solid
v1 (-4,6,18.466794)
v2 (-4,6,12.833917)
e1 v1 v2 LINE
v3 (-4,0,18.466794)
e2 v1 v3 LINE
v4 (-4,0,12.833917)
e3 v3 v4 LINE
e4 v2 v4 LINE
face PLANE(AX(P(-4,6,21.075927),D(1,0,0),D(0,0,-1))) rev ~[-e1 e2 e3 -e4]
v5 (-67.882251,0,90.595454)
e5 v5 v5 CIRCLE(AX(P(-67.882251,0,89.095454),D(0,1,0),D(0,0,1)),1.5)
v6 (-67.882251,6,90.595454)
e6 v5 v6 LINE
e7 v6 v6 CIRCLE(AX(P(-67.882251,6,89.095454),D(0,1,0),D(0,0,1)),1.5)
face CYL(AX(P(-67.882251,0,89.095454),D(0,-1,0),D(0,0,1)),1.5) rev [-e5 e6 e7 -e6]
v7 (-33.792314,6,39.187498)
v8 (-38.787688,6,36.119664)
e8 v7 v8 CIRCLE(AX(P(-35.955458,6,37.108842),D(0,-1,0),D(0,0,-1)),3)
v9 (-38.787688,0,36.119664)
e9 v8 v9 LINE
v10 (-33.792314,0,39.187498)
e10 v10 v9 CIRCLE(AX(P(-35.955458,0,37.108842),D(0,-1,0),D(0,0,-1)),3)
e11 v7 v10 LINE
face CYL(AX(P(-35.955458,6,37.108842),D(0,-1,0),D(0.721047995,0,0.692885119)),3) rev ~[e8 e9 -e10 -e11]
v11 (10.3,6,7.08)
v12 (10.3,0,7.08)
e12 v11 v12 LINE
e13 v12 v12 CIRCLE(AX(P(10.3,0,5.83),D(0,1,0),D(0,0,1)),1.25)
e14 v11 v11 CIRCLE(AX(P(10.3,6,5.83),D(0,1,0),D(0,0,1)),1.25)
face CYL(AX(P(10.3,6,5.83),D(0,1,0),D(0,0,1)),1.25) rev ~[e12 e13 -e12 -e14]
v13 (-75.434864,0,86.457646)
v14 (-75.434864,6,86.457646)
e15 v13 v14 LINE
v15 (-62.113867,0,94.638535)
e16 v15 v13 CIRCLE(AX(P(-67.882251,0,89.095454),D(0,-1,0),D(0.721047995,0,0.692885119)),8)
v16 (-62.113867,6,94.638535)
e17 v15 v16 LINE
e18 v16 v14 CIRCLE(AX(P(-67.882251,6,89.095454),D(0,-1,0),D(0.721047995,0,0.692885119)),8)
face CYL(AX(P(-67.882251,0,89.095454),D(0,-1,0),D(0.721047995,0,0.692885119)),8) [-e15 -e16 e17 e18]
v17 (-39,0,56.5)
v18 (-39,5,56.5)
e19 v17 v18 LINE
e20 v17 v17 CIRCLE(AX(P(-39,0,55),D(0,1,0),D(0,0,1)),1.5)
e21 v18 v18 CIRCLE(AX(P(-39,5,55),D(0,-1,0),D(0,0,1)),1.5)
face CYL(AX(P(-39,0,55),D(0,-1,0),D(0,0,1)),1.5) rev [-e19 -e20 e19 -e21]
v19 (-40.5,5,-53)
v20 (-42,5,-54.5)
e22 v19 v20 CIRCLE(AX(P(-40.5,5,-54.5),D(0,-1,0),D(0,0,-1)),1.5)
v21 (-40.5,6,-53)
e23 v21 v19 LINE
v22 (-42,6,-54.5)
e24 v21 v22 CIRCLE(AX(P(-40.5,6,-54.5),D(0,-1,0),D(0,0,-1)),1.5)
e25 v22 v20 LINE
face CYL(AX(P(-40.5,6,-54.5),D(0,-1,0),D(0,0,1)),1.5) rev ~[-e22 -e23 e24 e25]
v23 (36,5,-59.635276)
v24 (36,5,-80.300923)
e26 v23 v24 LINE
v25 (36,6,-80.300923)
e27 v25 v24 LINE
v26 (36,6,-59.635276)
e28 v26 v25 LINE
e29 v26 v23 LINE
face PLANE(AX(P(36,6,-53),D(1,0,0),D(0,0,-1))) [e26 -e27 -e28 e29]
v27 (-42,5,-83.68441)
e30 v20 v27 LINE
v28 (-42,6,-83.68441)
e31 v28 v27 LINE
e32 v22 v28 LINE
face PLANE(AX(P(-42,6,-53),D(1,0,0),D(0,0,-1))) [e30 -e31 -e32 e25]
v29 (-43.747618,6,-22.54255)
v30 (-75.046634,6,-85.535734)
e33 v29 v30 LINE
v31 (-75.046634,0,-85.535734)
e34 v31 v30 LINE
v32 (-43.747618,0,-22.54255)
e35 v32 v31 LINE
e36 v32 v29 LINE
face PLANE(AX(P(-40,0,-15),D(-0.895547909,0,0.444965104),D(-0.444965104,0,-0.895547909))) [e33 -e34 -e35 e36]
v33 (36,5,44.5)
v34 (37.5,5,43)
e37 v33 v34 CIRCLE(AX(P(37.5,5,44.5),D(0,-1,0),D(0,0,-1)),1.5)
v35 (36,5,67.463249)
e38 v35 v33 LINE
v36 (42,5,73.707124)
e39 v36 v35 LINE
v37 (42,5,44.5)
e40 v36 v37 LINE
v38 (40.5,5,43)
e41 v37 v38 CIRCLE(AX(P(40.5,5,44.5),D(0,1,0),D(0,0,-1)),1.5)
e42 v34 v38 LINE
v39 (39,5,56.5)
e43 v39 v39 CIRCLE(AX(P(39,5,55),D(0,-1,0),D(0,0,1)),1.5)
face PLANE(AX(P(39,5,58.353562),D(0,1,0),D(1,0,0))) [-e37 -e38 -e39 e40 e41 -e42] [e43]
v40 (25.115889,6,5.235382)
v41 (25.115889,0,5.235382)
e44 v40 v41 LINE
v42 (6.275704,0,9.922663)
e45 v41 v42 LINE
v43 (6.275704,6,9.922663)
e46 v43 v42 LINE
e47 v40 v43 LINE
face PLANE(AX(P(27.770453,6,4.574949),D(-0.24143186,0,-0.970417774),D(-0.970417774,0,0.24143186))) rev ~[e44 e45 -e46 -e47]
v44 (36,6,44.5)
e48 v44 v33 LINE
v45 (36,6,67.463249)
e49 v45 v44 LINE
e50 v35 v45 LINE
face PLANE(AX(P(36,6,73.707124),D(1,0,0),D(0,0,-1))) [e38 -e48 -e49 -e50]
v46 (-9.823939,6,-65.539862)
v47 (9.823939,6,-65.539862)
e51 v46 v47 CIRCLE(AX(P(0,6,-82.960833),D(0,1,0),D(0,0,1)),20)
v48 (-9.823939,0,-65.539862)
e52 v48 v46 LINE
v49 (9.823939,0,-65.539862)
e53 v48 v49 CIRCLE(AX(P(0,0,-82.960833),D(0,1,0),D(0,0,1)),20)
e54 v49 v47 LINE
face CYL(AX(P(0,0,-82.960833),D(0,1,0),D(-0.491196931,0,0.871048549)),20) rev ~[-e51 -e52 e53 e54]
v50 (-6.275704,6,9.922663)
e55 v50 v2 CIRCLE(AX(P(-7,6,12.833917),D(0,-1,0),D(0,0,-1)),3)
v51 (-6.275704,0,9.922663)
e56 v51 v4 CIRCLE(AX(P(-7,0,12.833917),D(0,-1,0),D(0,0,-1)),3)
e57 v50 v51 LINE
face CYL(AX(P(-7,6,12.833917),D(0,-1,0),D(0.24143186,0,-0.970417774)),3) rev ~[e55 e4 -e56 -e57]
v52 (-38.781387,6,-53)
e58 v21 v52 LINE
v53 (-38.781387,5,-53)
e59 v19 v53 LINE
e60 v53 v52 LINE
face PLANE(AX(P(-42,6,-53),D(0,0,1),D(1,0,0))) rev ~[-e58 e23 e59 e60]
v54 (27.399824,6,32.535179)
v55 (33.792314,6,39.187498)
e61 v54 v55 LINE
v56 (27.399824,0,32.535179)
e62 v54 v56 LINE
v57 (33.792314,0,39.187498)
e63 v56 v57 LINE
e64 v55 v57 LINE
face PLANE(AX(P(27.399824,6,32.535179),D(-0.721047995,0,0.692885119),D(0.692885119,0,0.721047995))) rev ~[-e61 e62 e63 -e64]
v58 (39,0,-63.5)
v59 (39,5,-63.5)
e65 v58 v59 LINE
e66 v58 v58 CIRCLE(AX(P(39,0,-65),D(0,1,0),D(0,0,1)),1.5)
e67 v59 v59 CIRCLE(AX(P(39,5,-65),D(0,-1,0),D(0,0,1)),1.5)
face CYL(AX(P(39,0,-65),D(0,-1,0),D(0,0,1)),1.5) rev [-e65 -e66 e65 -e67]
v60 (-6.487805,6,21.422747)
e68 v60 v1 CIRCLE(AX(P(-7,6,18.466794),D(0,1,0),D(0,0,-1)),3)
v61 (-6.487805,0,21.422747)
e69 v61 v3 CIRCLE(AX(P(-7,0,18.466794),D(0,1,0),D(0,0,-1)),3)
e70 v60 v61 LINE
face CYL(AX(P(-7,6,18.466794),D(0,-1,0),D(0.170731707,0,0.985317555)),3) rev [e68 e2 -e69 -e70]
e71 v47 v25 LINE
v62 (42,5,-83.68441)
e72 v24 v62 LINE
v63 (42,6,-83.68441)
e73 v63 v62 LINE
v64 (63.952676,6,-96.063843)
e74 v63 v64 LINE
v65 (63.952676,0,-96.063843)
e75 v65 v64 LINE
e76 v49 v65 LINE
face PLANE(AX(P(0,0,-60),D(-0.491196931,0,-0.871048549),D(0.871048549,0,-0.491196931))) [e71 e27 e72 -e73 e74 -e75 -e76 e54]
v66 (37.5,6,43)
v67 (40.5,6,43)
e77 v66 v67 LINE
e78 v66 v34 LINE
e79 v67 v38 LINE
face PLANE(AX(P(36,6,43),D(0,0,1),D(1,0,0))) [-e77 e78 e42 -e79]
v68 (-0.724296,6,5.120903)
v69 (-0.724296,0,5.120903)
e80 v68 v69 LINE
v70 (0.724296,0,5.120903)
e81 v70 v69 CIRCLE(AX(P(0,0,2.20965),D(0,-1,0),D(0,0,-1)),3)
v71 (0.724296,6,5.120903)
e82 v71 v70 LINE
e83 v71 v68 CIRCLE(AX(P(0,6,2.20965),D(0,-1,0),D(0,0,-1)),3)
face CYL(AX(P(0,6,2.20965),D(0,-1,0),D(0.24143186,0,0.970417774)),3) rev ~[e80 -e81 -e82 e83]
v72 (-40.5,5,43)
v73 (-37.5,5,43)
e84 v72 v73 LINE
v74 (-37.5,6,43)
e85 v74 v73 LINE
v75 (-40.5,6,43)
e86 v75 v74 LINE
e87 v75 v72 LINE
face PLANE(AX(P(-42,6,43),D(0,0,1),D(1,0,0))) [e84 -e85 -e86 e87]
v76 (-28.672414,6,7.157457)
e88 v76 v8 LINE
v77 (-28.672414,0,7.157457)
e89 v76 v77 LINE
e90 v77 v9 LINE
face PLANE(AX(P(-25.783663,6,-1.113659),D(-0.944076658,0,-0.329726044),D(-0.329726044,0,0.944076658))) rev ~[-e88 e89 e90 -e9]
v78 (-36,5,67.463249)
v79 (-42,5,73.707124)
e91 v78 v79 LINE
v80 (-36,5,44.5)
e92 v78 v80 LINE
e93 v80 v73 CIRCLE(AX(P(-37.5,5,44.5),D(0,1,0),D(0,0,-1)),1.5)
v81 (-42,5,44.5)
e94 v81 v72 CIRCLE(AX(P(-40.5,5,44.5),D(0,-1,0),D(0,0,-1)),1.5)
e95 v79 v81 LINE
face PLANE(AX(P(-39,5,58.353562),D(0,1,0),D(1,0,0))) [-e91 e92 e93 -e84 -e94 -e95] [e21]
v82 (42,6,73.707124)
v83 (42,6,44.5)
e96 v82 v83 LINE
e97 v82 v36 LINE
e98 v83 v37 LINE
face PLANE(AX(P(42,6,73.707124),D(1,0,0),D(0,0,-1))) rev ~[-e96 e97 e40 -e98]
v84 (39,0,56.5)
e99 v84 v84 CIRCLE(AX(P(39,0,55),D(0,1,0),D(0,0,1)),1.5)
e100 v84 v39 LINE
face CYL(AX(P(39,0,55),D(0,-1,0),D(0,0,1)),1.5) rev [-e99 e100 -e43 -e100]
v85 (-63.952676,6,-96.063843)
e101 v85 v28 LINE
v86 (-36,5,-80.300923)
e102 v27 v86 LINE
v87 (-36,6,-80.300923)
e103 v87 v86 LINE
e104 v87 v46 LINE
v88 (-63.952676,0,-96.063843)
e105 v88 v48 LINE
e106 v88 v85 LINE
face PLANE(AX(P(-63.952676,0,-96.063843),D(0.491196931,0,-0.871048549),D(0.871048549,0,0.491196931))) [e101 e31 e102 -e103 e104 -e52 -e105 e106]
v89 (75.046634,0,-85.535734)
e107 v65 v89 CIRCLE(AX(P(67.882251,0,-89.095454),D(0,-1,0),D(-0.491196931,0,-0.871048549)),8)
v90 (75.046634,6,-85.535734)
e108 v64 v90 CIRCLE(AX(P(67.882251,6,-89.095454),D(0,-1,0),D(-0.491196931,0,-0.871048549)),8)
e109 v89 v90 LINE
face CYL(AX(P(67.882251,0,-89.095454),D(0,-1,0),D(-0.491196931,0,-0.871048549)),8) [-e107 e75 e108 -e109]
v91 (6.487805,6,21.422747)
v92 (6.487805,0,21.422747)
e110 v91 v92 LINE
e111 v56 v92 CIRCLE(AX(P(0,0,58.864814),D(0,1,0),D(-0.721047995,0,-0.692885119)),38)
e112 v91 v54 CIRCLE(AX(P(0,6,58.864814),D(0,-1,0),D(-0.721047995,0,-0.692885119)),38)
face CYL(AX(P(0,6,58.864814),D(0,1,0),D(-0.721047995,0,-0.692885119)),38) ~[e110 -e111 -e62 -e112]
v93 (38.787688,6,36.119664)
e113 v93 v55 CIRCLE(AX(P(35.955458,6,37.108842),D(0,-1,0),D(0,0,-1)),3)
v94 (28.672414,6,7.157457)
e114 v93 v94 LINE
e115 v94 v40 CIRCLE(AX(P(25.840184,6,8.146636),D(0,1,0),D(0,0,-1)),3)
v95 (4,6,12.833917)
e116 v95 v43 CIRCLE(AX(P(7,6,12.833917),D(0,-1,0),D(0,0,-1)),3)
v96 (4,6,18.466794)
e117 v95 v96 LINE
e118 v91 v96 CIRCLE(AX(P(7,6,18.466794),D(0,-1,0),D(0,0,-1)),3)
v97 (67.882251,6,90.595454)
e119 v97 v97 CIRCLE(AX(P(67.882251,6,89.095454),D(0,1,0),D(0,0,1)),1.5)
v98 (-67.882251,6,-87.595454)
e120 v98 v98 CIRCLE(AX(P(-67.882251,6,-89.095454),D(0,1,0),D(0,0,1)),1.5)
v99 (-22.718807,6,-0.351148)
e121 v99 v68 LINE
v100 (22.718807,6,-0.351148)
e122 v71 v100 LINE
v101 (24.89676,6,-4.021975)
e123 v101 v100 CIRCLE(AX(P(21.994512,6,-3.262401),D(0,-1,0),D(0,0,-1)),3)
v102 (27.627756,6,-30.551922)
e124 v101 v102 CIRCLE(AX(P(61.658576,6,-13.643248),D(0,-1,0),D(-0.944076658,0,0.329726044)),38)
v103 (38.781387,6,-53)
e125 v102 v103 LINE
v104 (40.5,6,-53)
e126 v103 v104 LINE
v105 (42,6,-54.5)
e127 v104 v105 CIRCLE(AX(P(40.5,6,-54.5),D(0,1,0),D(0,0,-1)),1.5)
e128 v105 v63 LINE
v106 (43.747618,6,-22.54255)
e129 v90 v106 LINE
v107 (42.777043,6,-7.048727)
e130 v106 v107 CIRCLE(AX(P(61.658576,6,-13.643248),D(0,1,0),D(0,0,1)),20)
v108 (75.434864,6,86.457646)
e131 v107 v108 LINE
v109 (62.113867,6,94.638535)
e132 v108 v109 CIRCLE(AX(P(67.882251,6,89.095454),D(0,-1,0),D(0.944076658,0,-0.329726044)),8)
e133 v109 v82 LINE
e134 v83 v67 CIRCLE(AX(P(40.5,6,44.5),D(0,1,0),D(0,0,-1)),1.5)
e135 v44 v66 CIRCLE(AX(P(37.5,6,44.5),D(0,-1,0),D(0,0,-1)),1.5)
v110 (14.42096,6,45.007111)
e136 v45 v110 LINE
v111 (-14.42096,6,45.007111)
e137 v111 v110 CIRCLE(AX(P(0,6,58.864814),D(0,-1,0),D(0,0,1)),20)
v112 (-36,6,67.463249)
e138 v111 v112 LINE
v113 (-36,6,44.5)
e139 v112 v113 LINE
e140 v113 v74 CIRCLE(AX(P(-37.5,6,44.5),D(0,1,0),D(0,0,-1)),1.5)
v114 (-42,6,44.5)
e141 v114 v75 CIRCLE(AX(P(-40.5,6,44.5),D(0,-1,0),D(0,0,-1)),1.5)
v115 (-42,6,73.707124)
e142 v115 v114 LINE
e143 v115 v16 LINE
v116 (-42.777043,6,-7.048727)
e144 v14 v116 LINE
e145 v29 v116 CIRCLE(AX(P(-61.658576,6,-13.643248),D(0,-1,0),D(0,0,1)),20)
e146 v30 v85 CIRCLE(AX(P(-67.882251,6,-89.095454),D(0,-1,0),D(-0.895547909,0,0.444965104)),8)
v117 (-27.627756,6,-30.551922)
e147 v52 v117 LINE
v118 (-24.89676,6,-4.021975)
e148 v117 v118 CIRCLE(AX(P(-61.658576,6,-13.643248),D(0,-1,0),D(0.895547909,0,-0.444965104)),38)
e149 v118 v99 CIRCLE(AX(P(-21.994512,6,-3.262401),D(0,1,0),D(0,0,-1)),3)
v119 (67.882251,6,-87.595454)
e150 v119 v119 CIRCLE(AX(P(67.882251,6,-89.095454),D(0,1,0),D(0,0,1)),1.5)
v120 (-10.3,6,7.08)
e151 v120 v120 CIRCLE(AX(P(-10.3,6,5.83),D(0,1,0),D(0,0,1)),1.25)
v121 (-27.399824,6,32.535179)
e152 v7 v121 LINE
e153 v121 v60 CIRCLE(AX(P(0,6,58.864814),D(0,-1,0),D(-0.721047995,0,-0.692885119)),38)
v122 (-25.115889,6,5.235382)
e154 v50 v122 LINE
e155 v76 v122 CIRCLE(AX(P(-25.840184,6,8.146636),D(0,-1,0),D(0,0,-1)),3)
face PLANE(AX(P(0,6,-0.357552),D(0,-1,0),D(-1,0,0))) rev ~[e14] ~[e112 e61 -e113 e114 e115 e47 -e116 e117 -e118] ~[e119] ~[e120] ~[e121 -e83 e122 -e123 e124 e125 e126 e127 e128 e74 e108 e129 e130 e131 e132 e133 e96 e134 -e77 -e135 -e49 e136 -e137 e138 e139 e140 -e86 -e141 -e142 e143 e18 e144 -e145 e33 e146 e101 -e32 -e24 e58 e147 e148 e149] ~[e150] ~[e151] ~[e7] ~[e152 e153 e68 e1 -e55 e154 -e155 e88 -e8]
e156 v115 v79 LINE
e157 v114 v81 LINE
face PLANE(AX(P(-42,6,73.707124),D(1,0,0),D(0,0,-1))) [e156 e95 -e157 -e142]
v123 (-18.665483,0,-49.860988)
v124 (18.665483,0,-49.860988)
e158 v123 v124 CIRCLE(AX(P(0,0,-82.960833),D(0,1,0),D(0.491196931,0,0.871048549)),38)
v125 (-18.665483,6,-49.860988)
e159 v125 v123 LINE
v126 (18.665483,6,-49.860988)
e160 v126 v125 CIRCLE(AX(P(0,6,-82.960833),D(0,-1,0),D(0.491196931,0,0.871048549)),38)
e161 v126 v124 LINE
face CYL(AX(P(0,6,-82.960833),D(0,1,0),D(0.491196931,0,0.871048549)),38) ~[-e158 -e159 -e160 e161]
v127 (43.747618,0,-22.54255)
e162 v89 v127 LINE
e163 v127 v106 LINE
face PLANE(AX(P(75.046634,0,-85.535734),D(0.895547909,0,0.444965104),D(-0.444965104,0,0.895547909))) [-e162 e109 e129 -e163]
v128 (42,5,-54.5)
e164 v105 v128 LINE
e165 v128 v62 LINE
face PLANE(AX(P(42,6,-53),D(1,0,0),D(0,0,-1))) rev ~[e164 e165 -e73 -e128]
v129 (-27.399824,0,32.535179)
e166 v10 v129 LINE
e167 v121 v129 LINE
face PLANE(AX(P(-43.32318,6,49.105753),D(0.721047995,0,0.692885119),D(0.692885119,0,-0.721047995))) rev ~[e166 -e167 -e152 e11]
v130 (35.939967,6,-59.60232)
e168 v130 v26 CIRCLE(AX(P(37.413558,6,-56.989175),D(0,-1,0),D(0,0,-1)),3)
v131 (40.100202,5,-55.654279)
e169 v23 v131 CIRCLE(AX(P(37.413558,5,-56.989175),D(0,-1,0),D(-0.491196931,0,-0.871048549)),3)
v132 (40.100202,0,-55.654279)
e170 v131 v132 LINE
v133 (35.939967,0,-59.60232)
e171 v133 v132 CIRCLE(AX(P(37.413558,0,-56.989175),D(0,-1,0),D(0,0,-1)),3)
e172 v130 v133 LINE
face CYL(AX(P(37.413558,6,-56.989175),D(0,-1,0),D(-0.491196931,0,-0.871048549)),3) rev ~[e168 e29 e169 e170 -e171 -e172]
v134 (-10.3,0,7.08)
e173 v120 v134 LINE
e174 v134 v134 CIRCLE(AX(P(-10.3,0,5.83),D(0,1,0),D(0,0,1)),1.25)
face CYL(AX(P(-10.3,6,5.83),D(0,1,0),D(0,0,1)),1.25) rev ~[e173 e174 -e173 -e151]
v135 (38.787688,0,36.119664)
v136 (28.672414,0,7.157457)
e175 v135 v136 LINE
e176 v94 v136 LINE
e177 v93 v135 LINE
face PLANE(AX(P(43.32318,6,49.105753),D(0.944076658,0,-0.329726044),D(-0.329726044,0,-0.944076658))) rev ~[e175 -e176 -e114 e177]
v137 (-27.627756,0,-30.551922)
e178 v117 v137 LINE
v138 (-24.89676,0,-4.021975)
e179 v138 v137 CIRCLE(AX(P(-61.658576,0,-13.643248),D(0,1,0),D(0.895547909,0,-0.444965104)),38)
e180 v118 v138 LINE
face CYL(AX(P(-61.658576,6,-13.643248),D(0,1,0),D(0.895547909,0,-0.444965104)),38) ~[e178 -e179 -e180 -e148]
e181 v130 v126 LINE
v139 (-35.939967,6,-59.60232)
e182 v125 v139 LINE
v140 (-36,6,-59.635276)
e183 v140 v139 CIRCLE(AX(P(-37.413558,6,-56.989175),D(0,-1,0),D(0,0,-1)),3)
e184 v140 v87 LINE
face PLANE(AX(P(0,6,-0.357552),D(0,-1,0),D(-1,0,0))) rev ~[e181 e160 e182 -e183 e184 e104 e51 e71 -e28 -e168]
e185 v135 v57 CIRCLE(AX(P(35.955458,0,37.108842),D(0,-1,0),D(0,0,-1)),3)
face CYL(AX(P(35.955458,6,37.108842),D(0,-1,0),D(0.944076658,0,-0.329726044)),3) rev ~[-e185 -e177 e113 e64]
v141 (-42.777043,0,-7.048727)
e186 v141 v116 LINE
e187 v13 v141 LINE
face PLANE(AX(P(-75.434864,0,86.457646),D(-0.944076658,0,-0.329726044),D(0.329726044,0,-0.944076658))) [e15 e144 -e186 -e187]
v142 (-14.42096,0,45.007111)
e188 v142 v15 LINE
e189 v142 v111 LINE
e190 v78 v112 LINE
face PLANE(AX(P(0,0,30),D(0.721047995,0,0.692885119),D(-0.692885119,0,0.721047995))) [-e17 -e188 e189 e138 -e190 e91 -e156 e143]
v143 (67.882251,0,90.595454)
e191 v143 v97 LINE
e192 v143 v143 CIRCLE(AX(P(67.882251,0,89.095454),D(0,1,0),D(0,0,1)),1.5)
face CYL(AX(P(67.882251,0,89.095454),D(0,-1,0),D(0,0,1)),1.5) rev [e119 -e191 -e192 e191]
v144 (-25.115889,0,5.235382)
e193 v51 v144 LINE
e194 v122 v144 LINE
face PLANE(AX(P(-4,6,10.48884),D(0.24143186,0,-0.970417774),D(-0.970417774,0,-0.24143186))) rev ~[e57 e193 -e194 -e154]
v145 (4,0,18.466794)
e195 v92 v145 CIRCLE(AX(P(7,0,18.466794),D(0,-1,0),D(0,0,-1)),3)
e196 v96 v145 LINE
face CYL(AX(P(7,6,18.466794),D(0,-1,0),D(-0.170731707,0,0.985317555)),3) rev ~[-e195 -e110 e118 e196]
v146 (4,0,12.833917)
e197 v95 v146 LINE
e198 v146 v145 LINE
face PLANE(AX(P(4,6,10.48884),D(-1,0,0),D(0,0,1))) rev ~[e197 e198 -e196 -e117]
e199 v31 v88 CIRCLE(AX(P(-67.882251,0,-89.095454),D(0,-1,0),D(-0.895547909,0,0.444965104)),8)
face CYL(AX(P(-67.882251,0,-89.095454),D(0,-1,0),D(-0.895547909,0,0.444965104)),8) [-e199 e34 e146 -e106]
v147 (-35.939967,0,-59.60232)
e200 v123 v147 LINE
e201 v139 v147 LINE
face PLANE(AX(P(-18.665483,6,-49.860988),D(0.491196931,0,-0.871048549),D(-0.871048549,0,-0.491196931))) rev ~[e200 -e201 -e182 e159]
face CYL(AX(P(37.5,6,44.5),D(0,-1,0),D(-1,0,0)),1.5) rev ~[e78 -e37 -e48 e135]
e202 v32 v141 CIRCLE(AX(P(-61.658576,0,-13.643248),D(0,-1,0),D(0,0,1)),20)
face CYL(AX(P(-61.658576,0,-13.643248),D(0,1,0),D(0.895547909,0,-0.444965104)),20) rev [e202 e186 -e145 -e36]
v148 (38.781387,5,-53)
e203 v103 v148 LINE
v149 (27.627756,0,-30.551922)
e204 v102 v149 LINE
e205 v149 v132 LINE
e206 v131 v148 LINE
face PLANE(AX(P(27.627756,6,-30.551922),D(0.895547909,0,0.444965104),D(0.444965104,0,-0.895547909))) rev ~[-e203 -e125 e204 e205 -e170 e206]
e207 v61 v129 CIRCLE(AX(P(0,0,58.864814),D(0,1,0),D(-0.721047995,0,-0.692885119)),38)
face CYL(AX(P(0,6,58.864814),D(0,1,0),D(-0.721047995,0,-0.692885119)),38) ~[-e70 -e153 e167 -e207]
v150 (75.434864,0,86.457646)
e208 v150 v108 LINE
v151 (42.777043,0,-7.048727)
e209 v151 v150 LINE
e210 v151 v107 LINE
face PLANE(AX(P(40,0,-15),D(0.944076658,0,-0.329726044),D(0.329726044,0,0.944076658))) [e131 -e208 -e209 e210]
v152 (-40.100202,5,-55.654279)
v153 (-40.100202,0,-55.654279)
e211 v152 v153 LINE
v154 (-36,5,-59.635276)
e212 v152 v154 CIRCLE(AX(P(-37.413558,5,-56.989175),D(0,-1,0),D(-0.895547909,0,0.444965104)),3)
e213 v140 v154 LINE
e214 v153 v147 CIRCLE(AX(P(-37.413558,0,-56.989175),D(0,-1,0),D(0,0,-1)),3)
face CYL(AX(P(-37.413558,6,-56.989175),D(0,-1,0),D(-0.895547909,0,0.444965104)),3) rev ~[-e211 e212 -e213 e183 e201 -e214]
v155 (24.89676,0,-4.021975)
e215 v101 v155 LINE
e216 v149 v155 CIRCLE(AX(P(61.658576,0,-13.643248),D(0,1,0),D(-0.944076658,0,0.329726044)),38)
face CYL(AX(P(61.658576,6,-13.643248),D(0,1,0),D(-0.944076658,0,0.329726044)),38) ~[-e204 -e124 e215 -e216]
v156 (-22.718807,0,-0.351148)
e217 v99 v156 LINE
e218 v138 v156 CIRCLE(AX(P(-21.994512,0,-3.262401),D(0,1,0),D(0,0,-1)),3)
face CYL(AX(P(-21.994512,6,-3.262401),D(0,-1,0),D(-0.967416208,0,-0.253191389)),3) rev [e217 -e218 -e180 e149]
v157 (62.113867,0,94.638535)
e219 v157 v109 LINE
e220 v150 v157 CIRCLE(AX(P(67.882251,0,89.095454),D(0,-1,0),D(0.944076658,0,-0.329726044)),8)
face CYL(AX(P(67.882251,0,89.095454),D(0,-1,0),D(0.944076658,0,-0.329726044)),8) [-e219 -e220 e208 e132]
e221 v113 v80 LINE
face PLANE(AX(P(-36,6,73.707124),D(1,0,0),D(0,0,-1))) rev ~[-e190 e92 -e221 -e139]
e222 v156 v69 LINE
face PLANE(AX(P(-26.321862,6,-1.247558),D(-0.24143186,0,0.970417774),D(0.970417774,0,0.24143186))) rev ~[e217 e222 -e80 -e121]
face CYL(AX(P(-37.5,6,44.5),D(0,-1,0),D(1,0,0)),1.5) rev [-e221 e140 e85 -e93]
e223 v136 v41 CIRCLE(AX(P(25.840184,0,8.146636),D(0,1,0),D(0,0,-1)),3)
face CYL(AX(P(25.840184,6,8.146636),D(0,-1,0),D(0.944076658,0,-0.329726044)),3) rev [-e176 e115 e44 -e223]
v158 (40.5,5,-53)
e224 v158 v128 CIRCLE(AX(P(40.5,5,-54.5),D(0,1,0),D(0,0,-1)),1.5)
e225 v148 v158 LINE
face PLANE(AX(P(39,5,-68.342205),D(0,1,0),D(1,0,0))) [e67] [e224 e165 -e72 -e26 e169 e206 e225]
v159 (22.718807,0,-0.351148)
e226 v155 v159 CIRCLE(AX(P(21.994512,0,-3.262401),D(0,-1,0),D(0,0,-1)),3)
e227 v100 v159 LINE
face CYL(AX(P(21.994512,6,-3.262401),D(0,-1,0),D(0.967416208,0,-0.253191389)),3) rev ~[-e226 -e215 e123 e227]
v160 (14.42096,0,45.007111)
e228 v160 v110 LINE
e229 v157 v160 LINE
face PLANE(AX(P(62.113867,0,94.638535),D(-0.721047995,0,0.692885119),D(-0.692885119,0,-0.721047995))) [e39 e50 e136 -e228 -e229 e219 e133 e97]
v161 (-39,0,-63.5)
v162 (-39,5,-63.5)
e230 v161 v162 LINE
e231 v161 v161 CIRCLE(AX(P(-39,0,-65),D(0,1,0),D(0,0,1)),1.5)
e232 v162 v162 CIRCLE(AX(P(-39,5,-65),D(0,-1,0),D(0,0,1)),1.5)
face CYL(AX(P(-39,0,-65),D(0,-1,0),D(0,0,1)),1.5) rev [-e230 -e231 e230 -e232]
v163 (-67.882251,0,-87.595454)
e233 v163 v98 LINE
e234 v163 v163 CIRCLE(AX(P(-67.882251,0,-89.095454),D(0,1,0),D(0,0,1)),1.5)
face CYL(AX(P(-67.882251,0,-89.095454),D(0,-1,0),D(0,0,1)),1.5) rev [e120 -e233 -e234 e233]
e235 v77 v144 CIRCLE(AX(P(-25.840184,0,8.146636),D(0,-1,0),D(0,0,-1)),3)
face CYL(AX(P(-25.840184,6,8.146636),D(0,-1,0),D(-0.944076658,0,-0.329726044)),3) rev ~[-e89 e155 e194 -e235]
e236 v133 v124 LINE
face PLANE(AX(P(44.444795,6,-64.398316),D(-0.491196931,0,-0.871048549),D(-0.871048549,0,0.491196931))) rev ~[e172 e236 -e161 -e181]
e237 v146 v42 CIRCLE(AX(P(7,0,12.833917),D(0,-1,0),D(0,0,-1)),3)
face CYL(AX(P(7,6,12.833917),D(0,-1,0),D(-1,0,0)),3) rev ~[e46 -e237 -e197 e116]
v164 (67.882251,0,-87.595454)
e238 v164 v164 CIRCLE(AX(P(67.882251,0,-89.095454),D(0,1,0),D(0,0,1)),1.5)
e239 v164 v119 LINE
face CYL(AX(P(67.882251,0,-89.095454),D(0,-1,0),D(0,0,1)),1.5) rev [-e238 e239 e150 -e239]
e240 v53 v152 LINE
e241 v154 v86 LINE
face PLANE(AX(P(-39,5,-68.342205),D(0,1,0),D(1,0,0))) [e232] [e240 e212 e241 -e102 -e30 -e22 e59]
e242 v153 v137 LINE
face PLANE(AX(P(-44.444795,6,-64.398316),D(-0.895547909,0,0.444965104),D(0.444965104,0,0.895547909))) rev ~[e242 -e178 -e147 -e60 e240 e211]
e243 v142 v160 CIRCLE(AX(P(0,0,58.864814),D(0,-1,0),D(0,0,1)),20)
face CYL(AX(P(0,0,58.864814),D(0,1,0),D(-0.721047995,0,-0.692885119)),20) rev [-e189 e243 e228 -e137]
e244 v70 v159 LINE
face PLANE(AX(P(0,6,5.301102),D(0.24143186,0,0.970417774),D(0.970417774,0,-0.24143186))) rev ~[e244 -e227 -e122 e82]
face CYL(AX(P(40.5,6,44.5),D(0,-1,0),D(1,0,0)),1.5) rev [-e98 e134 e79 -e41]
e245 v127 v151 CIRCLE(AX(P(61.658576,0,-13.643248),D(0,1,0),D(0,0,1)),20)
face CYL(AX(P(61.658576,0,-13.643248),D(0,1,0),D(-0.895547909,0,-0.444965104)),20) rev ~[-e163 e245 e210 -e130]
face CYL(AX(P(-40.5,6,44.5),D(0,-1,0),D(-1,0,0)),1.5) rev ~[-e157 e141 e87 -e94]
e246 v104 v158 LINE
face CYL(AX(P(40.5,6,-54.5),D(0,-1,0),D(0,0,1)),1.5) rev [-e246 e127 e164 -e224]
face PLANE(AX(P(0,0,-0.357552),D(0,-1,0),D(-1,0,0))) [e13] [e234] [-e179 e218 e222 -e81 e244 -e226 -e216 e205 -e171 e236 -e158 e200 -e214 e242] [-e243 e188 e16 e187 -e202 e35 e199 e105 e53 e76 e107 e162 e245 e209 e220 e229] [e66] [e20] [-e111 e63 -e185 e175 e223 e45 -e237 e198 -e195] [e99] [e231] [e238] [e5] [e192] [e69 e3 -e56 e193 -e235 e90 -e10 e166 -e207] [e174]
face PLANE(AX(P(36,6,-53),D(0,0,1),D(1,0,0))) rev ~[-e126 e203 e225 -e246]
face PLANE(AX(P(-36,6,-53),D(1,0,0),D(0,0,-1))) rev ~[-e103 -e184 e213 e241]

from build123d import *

# Parameters (mm, degrees)
SKETCH1_R           = 1.5
BOSS_EXTRUDE1_DEPTH = 6
FILLET1_R           = 20
CUT_EXTRUDE1_REACH  = 125.376
SKETCH5_R           = 1.25
BOSS_EXTRUDE2_DEPTH = 6
FILLET2_R           = 3
SKETCH6_W           = 6
SKETCH6_H           = 30.707123962
SKETCH6_H_2         = 30.684410161
CUT_EXTRUDE2_DEPTH  = 1
FILLET3_R           = 1.5


with BuildPart() as part:
    # Sketch1 → Boss-Extrude1 (new body)
    with BuildSketch(Plane(origin=(0, 0, 0), x_dir=(1, 0, 0), z_dir=(0, 1, 0))):
        with BuildLine():
            Line((-63.952675545, 96.063842822), (0, 60))
            Line((0, 60), (63.952675545, 96.063842822))
            ThreePointArc((63.952675545, 96.063842822), (73.389179934, 94.898361774), (75.046634262, 85.5357336))
            Line((75.046634262, 85.5357336), (40, 15))
            Line((40, 15), (75.434864258, -86.457646081))
            ThreePointArc((75.434864258, -86.457646081), (72.068849374, -95.912520808), (62.113867032, -94.638535384))
            Line((62.113867032, -94.638535384), (0, -30))
            Line((0, -30), (-62.113867032, -94.638535384))
            ThreePointArc((-62.113867032, -94.638535384), (-72.068849374, -95.912520808), (-75.434864258, -86.457646081))
            Line((-75.434864258, -86.457646081), (-40, 15))
            Line((-40, 15), (-75.046634262, 85.5357336))
            ThreePointArc((-75.046634262, 85.5357336), (-73.389179934, 94.898361774), (-63.952675545, 96.063842822))
        make_face()
        with Locations(Location((-67.882250994, 89.09545443, 0), (0, 0, 270))):
            Circle(SKETCH1_R, mode=Mode.SUBTRACT)
        with Locations(Location((67.882250994, 89.09545443, 0), (0, 0, 270))):
            Circle(SKETCH1_R, mode=Mode.SUBTRACT)
        with Locations(Location((-67.882250994, -89.09545443, 0), (0, 0, 270))):
            Circle(SKETCH1_R, mode=Mode.SUBTRACT)
        with Locations(Location((67.882250994, -89.09545443, 0), (0, 0, 270))):
            Circle(SKETCH1_R, mode=Mode.SUBTRACT)
        with Locations(Location((-39, 65, 0), (0, 0, 270))):
            Circle(SKETCH1_R, mode=Mode.SUBTRACT)
        with Locations(Location((39, 65, 0), (0, 0, 270))):
            Circle(SKETCH1_R, mode=Mode.SUBTRACT)
        with Locations(Location((39, -55, 0), (0, 0, 270))):
            Circle(SKETCH1_R, mode=Mode.SUBTRACT)
        with Locations(Location((-39, -55, 0), (0, 0, 270))):
            Circle(SKETCH1_R, mode=Mode.SUBTRACT)
    extrude(amount=BOSS_EXTRUDE1_DEPTH)

    # Fillet1
    fillet1_edges = [part.edges().sort_by_distance(p)[0] for p in [
        (0, 3, -60),
        (40, 3, -15),
        (0, 3, 30),
        (-40, 3, -15),
    ]]
    fillet(fillet1_edges, radius=FILLET1_R)

    # Sketch2 → Cut-Extrude1 (cut, up to next)
    with BuildSketch(Plane(origin=(0, 6, 0), x_dir=(1, 0, 0), z_dir=(0, 1, 0)), mode=Mode.PRIVATE) as cut_extrude1_sk1:
        with BuildLine():
            Line((-44.444795008, 64.398316163), (-27.62775586, 30.551922116))
            ThreePointArc((-27.62775586, 30.551922116), (-23.732915732, 16.019014171), (-25.78366338, 1.113658522))
            Line((-25.78366338, 1.113658522), (-43.323179503, -49.105752685))
            Line((-43.323179503, -49.105752685), (-27.39982382, -32.535179334))
            ThreePointArc((-27.39982382, -32.535179334), (0, -20.864813867), (27.39982382, -32.535179334))
            Line((27.39982382, -32.535179334), (43.323179503, -49.105752685))
            Line((43.323179503, -49.105752685), (25.78366338, 1.113658522))
            ThreePointArc((25.78366338, 1.113658522), (23.732915732, 16.019014171), (27.62775586, 30.551922116))
            Line((27.62775586, 30.551922116), (44.444795008, 64.398316163))
            Line((44.444795008, 64.398316163), (18.665483383, 49.860987824))
            ThreePointArc((18.665483383, 49.860987824), (0, 44.96083269), (-18.665483383, 49.860987824))
            Line((-18.665483383, 49.860987824), (-44.444795008, 64.398316163))
        make_face()
    cut_extrude1_tool1 = extrude(cut_extrude1_sk1.sketch, amount=-CUT_EXTRUDE1_REACH, mode=Mode.PRIVATE) & part.part
    add(cut_extrude1_tool1.solids().sort_by_distance((0, 6, -11.306472))[0], mode=Mode.SUBTRACT)

    # Sketch5 → Boss-Extrude2 (add)
    with BuildSketch(Plane(origin=(0, 6, 0), x_dir=(1, 0, 0), z_dir=(0, 1, 0))):
        with BuildLine():
            Line((-26.321862123, 1.247557887), (0, -5.301102183))
            Line((0, -5.301102183), (26.321862123, 1.247557887))
            Line((26.321862123, 1.247557887), (27.770453283, -4.57494876))
            Line((27.770453283, -4.57494876), (4, -10.488839561))
            Line((4, -10.488839561), (4, -21.075926612))
            ThreePointArc((4, -21.075926612), (0, -20.864813867), (-4, -21.075926612))
            Line((-4, -21.075926612), (-4, -10.488839561))
            Line((-4, -10.488839561), (-27.770453283, -4.57494876))
            Line((-27.770453283, -4.57494876), (-26.321862123, 1.247557887))
        make_face()
        with Locations(Location((-10.3, -5.83, 0), (0, 0, 270))):
            Circle(SKETCH5_R, mode=Mode.SUBTRACT)
        with Locations(Location((10.3, -5.83, 0), (0, 0, 270))):
            Circle(SKETCH5_R, mode=Mode.SUBTRACT)
    extrude(amount=-BOSS_EXTRUDE2_DEPTH)

    # Fillet2
    fillet2_edges = [part.edges().sort_by_distance(p)[0] for p in [
        (-44.444795008, 3, -64.398316163),
        (44.444795008, 3, -64.398316163),
        (25.78366338, 3, -1.113658522),
        (43.323179503, 3, 49.105752685),
        (-43.323179503, 3, 49.105752685),
        (-25.78366338, 3, -1.113658522),
        (0, 3, 5.301102183),
        (-4, 3, 10.488839561),
        (-4, 3, 21.075926612),
        (4, 3, 21.075926612),
        (4, 3, 10.488839561),
        (27.770453283, 3, 4.57494876),
        (-27.770453283, 3, 4.57494876),
    ]]
    fillet(fillet2_edges, radius=FILLET2_R)

    # Sketch6 → Cut-Extrude2 (cut)
    with BuildSketch(Plane(origin=(0, 6, 0), x_dir=(1, 0, 0), z_dir=(0, 1, 0))):
        with Locations((-39, -58.353561981)):
            Rectangle(SKETCH6_W, SKETCH6_H)
        with Locations((39, -58.353561981)):
            Rectangle(SKETCH6_W, SKETCH6_H)
        with Locations((39, 68.342205081)):
            Rectangle(SKETCH6_W, SKETCH6_H_2)
        with Locations((-39, 68.342205081)):
            Rectangle(SKETCH6_W, SKETCH6_H_2)
    extrude(amount=-CUT_EXTRUDE2_DEPTH, mode=Mode.SUBTRACT)

    # Fillet3
    fillet3_edges = [part.edges().sort_by_distance(p)[0] for p in [
        (-36, 5.5, 43),
        (-42, 5.5, 43),
        (36, 5.5, 43),
        (42, 5.5, 43),
        (42, 5.5, -53),
        (-42, 5.5, -53),
    ]]
    fillet(fillet3_edges, radius=FILLET3_R)


solid = part.part
